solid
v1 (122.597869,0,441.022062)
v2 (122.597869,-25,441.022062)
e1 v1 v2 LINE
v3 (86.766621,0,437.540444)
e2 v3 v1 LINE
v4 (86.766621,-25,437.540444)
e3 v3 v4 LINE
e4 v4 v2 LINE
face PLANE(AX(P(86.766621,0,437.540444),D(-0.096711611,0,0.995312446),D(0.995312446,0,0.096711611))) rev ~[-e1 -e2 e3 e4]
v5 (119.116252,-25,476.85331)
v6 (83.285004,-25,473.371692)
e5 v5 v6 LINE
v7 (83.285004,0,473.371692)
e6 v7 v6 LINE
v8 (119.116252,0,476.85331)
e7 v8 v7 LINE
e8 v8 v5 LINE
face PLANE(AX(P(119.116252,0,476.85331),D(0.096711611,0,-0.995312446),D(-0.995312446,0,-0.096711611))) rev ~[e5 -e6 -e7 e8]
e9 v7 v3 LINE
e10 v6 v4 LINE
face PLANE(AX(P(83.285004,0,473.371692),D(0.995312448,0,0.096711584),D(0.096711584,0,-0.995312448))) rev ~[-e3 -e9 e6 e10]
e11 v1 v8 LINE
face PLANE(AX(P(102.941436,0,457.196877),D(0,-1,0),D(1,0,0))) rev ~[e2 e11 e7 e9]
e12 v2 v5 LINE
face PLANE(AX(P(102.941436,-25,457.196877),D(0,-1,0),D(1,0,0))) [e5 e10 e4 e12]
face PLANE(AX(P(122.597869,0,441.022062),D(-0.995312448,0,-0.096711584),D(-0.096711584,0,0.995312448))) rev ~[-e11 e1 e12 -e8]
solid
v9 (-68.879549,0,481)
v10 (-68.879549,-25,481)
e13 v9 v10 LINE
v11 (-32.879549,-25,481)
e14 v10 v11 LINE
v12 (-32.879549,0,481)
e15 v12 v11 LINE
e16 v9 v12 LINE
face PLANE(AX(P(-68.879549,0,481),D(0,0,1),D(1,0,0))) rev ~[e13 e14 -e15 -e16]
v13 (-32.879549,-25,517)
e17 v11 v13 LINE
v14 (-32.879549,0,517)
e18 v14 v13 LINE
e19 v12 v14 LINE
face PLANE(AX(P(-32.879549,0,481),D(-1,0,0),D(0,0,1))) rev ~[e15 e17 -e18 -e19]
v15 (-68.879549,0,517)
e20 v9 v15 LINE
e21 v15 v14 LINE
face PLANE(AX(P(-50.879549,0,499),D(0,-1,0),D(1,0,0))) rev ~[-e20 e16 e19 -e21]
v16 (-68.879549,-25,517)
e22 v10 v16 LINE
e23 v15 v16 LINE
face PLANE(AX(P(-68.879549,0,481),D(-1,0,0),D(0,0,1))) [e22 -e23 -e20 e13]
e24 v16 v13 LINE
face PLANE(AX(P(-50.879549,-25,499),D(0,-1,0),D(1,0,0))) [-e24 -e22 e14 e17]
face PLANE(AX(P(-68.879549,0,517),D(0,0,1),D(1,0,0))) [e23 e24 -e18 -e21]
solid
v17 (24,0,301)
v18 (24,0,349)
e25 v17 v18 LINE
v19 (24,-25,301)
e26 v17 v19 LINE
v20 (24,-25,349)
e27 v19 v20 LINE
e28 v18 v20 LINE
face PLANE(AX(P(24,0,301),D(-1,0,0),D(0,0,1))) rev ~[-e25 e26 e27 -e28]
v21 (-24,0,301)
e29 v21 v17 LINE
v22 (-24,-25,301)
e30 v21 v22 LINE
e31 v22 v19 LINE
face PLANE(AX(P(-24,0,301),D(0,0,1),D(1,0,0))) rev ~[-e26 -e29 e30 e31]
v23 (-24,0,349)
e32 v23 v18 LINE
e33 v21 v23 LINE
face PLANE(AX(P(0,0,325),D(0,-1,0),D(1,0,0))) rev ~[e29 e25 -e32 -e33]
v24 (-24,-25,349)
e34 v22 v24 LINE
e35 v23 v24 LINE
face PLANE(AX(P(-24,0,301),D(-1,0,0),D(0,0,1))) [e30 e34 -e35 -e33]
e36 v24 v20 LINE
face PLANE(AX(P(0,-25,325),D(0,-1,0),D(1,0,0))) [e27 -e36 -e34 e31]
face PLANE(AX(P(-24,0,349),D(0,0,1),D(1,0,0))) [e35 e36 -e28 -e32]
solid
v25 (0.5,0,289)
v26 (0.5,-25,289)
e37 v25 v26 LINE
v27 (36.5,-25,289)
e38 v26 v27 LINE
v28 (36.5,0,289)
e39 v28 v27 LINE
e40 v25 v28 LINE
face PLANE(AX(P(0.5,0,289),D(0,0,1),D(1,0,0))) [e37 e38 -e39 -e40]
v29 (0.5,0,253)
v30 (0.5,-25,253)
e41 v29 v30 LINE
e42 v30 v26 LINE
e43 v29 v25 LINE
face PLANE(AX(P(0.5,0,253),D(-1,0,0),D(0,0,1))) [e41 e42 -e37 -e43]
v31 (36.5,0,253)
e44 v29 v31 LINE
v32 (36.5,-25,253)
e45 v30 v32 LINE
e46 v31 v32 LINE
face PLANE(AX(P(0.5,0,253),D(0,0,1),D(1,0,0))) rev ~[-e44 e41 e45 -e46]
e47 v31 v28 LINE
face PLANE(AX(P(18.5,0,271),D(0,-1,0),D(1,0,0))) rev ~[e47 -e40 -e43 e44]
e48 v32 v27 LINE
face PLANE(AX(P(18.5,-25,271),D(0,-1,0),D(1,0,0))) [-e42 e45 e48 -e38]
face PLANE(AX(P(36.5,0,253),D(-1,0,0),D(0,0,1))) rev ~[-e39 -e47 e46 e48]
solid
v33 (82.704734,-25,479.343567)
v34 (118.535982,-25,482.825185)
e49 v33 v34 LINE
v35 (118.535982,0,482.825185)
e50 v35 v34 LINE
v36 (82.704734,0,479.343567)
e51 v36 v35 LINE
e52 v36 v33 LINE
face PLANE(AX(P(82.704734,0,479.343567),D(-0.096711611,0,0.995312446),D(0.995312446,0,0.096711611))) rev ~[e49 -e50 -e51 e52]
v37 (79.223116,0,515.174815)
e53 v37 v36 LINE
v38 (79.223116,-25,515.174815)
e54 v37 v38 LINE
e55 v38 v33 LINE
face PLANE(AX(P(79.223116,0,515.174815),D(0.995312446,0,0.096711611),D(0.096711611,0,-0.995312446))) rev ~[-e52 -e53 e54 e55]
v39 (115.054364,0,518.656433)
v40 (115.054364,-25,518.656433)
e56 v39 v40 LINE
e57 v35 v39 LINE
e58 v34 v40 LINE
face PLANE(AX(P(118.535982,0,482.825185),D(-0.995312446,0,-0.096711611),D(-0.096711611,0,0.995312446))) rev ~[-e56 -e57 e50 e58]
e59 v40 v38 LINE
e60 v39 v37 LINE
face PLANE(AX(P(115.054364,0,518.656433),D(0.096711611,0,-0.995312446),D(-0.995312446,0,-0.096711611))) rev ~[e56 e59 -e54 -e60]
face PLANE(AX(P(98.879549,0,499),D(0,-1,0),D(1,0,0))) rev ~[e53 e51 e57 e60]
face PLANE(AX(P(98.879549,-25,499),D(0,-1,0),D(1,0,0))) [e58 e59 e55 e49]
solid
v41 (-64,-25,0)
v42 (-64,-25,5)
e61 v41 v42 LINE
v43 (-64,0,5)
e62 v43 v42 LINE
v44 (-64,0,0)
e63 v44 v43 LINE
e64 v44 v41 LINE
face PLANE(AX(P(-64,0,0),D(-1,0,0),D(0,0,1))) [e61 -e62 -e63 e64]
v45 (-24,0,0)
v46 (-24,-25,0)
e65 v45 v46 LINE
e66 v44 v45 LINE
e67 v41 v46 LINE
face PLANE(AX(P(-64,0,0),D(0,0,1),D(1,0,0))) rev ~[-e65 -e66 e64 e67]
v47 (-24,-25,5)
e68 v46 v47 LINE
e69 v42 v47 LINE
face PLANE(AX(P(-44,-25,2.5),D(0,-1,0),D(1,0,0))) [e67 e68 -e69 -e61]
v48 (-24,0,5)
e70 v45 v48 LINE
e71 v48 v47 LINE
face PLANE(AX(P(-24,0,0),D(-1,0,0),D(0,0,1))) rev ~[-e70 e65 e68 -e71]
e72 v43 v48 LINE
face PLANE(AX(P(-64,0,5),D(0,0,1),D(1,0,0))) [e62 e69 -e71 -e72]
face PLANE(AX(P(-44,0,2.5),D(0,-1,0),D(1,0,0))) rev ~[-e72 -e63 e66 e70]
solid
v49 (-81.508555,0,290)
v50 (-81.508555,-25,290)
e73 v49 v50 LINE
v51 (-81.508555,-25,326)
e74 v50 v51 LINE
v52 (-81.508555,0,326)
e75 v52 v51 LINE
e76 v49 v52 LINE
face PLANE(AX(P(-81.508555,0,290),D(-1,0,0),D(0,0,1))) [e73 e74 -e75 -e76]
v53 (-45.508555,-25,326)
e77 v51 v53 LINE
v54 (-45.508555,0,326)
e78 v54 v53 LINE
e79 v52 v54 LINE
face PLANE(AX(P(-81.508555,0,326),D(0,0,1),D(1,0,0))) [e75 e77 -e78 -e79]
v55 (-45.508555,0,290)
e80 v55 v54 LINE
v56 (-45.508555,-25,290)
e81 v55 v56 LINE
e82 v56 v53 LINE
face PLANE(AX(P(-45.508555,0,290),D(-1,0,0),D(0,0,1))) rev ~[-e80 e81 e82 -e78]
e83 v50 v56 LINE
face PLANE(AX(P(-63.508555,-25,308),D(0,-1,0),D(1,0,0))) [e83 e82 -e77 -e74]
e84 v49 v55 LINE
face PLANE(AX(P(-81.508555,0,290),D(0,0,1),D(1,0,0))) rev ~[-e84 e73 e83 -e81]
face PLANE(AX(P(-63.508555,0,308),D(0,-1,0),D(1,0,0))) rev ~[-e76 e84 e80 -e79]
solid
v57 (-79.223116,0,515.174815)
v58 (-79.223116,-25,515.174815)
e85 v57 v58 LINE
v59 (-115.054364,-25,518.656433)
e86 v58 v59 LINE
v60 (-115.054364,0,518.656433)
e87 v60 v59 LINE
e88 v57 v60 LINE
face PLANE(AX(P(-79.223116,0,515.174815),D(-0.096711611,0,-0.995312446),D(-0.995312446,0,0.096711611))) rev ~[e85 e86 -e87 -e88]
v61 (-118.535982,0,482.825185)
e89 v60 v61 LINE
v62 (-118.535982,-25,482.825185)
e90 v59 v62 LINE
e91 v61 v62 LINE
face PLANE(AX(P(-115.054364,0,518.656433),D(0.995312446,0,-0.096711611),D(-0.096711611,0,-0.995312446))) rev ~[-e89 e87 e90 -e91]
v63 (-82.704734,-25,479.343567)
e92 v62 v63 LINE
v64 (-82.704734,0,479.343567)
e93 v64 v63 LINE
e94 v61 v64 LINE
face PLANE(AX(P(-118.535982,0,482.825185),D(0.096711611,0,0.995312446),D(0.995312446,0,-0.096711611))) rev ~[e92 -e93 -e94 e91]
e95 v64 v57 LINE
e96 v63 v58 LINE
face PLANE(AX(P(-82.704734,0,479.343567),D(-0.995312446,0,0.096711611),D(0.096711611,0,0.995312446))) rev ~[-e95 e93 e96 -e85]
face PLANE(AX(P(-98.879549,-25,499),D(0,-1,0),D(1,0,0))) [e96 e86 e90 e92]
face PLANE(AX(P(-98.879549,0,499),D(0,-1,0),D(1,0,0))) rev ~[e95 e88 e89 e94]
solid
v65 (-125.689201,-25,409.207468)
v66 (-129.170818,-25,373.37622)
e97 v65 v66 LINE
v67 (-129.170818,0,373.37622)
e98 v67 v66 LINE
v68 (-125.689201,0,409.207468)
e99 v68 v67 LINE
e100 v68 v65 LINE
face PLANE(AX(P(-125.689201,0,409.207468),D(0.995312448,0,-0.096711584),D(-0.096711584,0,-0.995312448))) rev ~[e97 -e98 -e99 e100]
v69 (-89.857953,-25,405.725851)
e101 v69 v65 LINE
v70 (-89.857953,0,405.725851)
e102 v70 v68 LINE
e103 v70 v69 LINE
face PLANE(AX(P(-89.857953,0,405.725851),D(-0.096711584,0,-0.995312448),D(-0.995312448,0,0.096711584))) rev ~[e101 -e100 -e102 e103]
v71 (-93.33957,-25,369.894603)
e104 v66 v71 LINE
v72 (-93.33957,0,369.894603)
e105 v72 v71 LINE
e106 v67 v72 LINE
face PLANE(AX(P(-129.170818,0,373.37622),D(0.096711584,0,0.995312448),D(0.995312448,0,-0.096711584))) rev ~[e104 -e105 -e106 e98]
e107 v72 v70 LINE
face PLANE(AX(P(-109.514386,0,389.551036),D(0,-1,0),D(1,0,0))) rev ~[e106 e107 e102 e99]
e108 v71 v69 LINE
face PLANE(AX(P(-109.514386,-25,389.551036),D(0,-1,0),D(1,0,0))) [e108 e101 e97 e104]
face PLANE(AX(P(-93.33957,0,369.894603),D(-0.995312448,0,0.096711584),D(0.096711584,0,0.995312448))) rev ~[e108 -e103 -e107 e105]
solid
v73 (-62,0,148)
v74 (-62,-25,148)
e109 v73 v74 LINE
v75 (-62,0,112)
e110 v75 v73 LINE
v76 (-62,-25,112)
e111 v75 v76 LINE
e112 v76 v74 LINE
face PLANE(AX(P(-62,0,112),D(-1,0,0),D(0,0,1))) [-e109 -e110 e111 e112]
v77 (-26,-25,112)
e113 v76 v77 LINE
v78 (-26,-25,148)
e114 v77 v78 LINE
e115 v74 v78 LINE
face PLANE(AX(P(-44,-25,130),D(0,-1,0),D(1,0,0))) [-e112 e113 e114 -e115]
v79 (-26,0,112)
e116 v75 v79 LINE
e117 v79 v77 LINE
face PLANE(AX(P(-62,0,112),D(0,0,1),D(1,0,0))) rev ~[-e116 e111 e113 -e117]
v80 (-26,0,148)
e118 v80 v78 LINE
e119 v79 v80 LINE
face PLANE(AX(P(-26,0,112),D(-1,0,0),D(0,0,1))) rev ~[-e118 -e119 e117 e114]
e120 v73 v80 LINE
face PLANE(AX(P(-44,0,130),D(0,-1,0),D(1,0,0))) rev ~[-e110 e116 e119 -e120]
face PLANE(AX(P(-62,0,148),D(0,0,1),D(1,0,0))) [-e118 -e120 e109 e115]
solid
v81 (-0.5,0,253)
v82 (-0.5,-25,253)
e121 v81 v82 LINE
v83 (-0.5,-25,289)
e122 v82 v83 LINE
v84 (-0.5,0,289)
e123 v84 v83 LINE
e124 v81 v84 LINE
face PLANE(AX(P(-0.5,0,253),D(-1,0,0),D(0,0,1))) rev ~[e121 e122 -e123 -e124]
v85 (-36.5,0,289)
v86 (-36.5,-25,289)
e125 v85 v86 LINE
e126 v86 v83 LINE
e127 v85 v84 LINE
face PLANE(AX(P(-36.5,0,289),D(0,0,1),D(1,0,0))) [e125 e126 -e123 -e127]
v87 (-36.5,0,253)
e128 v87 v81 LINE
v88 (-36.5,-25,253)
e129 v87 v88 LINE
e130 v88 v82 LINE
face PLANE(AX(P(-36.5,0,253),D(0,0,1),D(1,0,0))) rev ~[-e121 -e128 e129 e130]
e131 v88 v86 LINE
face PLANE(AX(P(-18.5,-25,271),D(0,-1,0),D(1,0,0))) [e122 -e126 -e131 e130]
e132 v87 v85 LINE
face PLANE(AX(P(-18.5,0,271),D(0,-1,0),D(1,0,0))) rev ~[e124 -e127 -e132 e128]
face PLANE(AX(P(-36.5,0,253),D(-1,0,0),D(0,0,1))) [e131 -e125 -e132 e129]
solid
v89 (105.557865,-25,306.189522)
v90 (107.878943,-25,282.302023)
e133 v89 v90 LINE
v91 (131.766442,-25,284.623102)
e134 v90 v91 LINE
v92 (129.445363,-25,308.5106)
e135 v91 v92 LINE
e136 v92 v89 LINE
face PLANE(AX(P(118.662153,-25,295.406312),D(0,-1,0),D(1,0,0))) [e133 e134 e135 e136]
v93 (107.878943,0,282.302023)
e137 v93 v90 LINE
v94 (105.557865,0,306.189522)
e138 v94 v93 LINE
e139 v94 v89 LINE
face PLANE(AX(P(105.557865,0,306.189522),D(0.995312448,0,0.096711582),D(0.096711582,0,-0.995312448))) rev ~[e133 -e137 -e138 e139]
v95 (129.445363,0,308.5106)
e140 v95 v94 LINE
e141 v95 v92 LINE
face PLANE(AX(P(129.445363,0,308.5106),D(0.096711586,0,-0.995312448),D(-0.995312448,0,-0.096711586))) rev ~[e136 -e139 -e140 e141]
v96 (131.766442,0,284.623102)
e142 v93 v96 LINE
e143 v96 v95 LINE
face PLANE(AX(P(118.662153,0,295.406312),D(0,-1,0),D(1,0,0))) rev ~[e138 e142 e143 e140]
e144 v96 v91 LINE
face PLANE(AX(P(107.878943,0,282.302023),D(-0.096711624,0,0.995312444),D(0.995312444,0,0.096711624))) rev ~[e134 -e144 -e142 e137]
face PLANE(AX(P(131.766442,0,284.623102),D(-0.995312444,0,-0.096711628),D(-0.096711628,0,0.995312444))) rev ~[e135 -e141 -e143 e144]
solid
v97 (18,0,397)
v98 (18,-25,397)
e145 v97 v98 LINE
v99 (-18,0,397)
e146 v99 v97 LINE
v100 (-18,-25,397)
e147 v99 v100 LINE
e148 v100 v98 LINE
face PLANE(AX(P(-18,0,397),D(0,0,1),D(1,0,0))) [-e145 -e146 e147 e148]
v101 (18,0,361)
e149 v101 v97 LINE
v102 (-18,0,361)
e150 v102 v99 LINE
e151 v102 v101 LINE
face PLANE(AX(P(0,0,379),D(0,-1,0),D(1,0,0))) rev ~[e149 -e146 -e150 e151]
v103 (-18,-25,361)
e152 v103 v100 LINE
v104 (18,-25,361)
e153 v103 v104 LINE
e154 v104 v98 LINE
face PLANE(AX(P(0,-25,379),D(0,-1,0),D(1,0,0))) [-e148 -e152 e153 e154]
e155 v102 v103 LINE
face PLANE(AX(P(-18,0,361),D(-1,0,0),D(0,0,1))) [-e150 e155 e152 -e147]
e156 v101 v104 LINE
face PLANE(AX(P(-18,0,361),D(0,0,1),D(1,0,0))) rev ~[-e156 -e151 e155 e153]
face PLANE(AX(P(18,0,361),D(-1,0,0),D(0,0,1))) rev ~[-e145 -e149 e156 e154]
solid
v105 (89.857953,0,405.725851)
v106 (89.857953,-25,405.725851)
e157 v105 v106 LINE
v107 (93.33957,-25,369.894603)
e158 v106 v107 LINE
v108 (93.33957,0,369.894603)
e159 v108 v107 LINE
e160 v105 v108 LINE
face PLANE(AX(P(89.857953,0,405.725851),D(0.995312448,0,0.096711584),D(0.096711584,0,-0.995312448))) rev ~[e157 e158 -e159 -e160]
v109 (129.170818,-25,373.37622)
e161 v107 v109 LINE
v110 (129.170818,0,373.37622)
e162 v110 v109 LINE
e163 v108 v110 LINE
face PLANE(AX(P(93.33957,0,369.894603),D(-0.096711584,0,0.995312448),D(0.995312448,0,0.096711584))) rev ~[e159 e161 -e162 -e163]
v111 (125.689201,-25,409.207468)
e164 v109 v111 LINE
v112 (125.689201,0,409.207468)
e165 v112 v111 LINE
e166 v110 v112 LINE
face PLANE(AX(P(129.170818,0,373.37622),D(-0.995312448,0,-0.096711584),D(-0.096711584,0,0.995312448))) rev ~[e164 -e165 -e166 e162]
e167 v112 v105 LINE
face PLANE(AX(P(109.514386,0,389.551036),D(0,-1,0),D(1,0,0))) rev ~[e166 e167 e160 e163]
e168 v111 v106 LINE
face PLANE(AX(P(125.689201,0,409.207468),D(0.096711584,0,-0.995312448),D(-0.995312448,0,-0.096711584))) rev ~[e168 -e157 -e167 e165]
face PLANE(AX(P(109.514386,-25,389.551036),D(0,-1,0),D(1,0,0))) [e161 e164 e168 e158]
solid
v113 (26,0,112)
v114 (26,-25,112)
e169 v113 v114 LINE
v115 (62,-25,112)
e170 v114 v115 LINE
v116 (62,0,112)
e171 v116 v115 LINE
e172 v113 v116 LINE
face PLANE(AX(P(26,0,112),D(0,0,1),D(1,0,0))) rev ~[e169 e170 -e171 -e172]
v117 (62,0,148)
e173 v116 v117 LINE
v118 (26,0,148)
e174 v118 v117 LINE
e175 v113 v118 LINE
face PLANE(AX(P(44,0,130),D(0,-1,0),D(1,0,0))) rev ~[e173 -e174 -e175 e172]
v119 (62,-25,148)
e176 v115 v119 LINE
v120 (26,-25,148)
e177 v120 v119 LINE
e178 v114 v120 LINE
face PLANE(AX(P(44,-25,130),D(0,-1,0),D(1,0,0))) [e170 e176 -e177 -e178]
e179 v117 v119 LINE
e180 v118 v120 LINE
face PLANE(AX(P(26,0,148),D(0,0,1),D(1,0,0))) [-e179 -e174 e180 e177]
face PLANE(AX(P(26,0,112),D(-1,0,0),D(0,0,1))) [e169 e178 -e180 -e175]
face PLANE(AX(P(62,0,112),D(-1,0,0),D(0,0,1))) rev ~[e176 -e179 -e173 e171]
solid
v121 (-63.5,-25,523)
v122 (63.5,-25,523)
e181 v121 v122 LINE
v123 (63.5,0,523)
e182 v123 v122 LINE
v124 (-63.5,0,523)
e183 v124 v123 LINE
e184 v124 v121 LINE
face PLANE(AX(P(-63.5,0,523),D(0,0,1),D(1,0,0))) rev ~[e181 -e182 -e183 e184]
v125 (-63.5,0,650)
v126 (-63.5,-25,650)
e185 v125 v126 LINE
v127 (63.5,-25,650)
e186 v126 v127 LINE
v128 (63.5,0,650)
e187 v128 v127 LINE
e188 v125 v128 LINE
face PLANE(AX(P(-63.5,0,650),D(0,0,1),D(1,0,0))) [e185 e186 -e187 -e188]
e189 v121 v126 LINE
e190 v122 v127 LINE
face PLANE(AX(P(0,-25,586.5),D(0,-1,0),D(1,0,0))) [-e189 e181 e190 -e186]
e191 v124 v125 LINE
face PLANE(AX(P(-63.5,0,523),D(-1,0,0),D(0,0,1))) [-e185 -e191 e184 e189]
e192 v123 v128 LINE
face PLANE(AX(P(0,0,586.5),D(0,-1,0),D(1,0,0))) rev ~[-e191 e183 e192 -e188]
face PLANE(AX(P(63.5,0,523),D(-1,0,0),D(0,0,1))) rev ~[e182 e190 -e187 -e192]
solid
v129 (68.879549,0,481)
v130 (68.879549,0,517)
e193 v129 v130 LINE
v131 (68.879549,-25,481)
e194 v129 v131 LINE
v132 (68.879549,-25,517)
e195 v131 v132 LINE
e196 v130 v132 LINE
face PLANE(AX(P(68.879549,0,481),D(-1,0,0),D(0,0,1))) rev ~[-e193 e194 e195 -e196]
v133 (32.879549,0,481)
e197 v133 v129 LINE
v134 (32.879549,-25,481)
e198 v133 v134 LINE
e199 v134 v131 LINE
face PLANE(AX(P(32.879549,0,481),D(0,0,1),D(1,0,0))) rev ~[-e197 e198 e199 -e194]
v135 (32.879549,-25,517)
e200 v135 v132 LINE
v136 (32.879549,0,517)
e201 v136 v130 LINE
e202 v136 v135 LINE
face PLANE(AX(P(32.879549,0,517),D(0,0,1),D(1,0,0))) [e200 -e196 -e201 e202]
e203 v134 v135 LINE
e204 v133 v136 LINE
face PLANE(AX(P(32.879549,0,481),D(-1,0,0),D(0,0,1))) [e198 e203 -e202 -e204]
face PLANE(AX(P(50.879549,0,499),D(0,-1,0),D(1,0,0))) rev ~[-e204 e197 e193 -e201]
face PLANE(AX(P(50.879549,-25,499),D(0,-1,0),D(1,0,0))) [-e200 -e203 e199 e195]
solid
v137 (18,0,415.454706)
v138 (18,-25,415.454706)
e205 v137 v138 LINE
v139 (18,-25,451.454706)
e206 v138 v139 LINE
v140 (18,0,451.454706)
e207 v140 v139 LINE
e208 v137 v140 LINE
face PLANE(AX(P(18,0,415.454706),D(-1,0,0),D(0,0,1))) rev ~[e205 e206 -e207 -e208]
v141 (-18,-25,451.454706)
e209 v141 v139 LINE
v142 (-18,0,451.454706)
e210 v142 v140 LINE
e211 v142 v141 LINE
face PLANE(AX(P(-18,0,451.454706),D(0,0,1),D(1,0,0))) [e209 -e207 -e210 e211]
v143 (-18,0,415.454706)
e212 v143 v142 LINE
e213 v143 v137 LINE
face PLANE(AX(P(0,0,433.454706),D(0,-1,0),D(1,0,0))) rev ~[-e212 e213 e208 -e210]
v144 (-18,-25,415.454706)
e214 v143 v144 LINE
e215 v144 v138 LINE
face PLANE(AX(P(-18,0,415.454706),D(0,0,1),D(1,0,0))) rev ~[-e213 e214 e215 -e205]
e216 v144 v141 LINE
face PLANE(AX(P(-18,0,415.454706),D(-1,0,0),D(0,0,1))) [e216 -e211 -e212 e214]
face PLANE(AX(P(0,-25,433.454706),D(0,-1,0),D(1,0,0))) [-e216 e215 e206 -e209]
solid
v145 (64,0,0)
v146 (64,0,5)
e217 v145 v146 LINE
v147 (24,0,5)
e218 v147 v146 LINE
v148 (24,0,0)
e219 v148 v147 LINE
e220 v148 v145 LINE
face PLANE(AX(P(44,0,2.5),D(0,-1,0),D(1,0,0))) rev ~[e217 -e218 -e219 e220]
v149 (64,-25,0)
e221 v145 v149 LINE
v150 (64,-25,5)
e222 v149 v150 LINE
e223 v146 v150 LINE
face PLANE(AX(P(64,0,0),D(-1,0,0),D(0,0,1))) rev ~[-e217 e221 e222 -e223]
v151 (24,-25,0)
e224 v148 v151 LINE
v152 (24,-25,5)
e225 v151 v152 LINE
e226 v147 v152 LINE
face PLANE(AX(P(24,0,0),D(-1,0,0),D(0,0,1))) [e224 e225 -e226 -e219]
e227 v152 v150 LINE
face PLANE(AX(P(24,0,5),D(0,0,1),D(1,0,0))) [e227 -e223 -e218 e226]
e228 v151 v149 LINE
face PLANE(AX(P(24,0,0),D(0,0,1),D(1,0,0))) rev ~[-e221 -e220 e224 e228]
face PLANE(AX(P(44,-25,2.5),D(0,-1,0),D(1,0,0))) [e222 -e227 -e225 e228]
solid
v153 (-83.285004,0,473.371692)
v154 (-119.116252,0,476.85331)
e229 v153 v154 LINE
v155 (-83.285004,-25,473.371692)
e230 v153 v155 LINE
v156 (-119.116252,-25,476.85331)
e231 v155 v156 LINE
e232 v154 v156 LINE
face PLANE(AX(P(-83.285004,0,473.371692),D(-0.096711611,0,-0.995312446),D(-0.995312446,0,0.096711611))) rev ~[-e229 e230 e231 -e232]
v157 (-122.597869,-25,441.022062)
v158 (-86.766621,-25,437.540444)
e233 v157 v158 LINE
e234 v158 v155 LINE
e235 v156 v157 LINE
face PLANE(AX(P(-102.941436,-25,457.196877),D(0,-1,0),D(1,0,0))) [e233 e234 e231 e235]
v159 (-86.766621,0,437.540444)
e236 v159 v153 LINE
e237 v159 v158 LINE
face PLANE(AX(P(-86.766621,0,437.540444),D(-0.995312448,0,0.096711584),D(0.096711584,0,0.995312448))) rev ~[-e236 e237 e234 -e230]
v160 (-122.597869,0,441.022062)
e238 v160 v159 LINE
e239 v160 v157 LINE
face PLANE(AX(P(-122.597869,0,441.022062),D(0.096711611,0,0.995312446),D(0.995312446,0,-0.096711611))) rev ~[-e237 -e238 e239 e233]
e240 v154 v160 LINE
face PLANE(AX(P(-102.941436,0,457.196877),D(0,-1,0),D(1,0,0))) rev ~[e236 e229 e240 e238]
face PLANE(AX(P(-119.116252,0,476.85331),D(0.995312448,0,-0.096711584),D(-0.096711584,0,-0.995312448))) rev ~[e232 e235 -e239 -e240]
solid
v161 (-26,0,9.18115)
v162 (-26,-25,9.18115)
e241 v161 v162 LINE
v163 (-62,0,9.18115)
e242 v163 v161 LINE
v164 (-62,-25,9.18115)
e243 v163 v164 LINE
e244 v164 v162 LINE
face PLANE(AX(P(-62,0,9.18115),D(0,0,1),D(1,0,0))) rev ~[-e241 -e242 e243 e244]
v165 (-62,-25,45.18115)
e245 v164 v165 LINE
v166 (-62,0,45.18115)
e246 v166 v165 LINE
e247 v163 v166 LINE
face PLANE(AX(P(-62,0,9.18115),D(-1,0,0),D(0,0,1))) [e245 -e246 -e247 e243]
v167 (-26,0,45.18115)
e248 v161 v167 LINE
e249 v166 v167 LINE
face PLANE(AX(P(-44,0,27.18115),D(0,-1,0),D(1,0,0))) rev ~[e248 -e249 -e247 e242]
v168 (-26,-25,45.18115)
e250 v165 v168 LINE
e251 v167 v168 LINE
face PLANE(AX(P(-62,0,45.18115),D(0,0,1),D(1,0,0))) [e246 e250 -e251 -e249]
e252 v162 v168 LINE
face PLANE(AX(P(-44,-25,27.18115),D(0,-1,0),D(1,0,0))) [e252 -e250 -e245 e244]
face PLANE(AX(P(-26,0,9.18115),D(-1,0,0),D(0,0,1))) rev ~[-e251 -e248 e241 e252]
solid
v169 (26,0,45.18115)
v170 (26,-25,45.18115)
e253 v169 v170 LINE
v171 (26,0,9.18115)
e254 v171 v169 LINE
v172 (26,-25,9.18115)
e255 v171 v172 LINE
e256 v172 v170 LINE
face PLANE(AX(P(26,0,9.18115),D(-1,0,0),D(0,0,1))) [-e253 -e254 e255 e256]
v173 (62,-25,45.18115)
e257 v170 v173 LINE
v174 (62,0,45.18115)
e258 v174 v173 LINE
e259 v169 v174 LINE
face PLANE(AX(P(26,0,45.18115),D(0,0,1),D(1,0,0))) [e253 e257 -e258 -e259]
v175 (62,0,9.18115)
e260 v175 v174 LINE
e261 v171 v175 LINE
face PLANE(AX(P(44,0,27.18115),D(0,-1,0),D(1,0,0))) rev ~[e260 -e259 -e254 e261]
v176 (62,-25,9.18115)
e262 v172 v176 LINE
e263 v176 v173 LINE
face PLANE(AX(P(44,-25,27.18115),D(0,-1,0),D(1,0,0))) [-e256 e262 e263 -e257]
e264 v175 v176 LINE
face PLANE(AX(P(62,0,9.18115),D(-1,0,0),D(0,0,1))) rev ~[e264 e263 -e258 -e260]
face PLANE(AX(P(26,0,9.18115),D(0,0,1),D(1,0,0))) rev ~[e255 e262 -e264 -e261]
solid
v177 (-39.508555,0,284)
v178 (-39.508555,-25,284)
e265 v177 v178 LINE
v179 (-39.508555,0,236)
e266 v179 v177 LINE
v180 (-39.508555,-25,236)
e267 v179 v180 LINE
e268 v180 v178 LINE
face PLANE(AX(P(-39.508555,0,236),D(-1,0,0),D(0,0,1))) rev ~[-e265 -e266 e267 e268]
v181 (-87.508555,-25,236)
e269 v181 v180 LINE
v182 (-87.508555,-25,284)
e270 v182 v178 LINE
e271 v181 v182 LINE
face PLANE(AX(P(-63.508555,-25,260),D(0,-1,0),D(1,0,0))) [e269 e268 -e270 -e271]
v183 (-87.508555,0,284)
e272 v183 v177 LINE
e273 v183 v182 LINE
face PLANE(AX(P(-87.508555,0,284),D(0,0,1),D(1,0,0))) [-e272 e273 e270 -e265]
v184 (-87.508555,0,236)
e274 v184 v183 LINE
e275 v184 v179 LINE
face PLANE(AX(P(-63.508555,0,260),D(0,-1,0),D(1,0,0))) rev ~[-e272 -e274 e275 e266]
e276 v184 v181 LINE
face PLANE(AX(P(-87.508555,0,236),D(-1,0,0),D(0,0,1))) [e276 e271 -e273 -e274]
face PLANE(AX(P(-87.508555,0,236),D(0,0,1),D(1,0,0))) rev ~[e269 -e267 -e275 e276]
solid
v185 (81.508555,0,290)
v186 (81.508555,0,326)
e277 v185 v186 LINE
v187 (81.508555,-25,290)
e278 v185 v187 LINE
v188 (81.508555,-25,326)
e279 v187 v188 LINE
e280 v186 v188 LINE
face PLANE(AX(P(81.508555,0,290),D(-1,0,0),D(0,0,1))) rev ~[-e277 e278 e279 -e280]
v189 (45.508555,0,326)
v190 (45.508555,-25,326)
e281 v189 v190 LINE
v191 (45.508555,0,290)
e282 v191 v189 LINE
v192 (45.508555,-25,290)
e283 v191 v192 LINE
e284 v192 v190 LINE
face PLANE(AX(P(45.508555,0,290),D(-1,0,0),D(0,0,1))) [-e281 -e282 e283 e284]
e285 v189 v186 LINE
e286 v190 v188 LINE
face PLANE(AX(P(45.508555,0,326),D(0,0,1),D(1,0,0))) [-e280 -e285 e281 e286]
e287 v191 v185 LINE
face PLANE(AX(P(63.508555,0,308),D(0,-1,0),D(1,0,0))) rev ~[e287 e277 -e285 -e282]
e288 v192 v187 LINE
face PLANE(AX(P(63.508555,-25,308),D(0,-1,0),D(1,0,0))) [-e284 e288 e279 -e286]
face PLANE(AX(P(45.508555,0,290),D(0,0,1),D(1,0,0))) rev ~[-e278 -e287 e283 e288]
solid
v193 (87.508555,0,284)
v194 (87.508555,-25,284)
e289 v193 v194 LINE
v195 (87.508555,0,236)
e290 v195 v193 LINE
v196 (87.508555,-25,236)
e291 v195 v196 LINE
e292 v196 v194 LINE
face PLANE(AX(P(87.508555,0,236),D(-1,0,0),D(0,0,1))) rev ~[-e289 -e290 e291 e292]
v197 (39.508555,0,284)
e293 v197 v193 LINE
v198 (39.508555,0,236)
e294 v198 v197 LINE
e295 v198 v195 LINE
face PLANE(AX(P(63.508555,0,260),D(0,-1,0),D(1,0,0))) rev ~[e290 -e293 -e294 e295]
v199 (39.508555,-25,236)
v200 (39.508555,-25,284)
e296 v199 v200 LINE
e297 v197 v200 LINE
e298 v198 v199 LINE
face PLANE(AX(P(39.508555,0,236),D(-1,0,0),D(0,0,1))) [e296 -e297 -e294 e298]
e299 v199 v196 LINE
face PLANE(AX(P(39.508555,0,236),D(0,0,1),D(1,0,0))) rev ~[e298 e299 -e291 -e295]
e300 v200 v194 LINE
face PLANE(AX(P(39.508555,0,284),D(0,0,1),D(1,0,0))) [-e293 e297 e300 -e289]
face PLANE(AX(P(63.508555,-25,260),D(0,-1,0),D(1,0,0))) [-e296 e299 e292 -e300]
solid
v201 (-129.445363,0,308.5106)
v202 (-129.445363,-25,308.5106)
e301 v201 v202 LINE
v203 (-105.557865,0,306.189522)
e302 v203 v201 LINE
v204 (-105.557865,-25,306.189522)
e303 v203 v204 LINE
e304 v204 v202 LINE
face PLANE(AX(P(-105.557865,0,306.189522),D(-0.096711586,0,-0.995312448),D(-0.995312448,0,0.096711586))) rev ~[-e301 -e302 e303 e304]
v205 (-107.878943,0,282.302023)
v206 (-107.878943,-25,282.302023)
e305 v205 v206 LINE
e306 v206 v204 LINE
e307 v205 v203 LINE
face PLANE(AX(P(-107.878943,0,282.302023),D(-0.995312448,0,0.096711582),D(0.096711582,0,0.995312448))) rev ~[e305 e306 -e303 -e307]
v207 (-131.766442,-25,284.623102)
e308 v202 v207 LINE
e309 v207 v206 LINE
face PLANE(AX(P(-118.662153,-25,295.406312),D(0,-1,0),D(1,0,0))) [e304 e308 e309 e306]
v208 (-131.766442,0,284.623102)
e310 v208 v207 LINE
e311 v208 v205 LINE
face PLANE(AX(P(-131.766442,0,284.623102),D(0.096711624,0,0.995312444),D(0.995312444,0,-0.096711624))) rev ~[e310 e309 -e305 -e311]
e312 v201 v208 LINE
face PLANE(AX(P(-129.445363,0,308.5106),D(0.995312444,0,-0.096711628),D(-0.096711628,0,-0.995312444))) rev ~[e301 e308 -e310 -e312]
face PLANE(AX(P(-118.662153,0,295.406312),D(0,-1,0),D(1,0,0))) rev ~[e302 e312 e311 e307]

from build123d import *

# Parameters (mm, degrees)
F1_W     = 36
F1_H     = 36
F1_W_2   = 48
F1_H_2   = 48
F1_W_3   = 127
F1_H_3   = 127
F1_W_4   = 40
F1_H_4   = 5
F2_DEPTH = 25


with BuildPart() as f2:
    # F1 (on Front) → F2 (new body)
    with BuildSketch(Plane.XZ):
        with Locations((44, 27.18115)):
            Rectangle(F1_W, F1_H)
        with Locations((44, 130)):
            Rectangle(F1_W, F1_H)
        with Locations((63.508555, 260)):
            Rectangle(F1_W_2, F1_H_2)
        with Locations((63.508555, 308)):
            Rectangle(F1_W, F1_H)
        with Locations((18.5, 271)):
            Rectangle(F1_W, F1_H)
        with Locations((0, 325)):
            Rectangle(F1_W_2, F1_H_2)
        with Locations((0, 379)):
            Rectangle(F1_W, F1_H)
        with Locations((0, 433.454706)):
            Rectangle(F1_W, F1_H)
        with Locations((-44, 27.18115)):
            Rectangle(F1_W, F1_H)
        with Locations((-63.508555, 308)):
            Rectangle(F1_W, F1_H)
        with Locations((-63.508555, 260)):
            Rectangle(F1_W_2, F1_H_2)
        with Locations((-18.5, 271)):
            Rectangle(F1_W, F1_H)
        with Locations((-44, 130)):
            Rectangle(F1_W, F1_H)
        with Locations((50.879549, 499)):
            Rectangle(F1_W, F1_H)
        Polygon((93.33957, 369.894603), (129.170818, 373.37622), (125.689201, 409.207468), (89.857953, 405.725851), align=None)
        Polygon((86.766621, 437.540444), (122.597869, 441.022062), (119.116252, 476.85331), (83.285004, 473.371692), align=None)
        Polygon((82.704734, 479.343567), (118.535982, 482.825185), (115.054364, 518.656433), (79.223116, 515.174815), align=None)
        Polygon((105.557865, 306.189522), (107.878943, 282.302023), (131.766442, 284.623102), (129.445363, 308.5106), align=None)
        Polygon((-119.116252, 476.85331), (-122.597869, 441.022062), (-86.766621, 437.540444), (-83.285004, 473.371692), align=None)
        Polygon((-107.878943, 282.302023), (-105.557865, 306.189522), (-129.445363, 308.5106), (-131.766442, 284.623102), align=None)
        Polygon((-115.054364, 518.656433), (-118.535982, 482.825185), (-82.704734, 479.343567), (-79.223116, 515.174815), align=None)
        with Locations((-50.879549, 499)):
            Rectangle(F1_W, F1_H)
        Polygon((-125.689201, 409.207468), (-129.170818, 373.37622), (-93.33957, 369.894603), (-89.857953, 405.725851), align=None)
        with Locations((0, 586.5)):
            Rectangle(F1_W_3, F1_H_3)
        with Locations((44, 2.5)):
            Rectangle(F1_W_4, F1_H_4)
        with Locations((-44, 2.5)):
            Rectangle(F1_W_4, F1_H_4)
    extrude(amount=F2_DEPTH)


solid = f2.part
